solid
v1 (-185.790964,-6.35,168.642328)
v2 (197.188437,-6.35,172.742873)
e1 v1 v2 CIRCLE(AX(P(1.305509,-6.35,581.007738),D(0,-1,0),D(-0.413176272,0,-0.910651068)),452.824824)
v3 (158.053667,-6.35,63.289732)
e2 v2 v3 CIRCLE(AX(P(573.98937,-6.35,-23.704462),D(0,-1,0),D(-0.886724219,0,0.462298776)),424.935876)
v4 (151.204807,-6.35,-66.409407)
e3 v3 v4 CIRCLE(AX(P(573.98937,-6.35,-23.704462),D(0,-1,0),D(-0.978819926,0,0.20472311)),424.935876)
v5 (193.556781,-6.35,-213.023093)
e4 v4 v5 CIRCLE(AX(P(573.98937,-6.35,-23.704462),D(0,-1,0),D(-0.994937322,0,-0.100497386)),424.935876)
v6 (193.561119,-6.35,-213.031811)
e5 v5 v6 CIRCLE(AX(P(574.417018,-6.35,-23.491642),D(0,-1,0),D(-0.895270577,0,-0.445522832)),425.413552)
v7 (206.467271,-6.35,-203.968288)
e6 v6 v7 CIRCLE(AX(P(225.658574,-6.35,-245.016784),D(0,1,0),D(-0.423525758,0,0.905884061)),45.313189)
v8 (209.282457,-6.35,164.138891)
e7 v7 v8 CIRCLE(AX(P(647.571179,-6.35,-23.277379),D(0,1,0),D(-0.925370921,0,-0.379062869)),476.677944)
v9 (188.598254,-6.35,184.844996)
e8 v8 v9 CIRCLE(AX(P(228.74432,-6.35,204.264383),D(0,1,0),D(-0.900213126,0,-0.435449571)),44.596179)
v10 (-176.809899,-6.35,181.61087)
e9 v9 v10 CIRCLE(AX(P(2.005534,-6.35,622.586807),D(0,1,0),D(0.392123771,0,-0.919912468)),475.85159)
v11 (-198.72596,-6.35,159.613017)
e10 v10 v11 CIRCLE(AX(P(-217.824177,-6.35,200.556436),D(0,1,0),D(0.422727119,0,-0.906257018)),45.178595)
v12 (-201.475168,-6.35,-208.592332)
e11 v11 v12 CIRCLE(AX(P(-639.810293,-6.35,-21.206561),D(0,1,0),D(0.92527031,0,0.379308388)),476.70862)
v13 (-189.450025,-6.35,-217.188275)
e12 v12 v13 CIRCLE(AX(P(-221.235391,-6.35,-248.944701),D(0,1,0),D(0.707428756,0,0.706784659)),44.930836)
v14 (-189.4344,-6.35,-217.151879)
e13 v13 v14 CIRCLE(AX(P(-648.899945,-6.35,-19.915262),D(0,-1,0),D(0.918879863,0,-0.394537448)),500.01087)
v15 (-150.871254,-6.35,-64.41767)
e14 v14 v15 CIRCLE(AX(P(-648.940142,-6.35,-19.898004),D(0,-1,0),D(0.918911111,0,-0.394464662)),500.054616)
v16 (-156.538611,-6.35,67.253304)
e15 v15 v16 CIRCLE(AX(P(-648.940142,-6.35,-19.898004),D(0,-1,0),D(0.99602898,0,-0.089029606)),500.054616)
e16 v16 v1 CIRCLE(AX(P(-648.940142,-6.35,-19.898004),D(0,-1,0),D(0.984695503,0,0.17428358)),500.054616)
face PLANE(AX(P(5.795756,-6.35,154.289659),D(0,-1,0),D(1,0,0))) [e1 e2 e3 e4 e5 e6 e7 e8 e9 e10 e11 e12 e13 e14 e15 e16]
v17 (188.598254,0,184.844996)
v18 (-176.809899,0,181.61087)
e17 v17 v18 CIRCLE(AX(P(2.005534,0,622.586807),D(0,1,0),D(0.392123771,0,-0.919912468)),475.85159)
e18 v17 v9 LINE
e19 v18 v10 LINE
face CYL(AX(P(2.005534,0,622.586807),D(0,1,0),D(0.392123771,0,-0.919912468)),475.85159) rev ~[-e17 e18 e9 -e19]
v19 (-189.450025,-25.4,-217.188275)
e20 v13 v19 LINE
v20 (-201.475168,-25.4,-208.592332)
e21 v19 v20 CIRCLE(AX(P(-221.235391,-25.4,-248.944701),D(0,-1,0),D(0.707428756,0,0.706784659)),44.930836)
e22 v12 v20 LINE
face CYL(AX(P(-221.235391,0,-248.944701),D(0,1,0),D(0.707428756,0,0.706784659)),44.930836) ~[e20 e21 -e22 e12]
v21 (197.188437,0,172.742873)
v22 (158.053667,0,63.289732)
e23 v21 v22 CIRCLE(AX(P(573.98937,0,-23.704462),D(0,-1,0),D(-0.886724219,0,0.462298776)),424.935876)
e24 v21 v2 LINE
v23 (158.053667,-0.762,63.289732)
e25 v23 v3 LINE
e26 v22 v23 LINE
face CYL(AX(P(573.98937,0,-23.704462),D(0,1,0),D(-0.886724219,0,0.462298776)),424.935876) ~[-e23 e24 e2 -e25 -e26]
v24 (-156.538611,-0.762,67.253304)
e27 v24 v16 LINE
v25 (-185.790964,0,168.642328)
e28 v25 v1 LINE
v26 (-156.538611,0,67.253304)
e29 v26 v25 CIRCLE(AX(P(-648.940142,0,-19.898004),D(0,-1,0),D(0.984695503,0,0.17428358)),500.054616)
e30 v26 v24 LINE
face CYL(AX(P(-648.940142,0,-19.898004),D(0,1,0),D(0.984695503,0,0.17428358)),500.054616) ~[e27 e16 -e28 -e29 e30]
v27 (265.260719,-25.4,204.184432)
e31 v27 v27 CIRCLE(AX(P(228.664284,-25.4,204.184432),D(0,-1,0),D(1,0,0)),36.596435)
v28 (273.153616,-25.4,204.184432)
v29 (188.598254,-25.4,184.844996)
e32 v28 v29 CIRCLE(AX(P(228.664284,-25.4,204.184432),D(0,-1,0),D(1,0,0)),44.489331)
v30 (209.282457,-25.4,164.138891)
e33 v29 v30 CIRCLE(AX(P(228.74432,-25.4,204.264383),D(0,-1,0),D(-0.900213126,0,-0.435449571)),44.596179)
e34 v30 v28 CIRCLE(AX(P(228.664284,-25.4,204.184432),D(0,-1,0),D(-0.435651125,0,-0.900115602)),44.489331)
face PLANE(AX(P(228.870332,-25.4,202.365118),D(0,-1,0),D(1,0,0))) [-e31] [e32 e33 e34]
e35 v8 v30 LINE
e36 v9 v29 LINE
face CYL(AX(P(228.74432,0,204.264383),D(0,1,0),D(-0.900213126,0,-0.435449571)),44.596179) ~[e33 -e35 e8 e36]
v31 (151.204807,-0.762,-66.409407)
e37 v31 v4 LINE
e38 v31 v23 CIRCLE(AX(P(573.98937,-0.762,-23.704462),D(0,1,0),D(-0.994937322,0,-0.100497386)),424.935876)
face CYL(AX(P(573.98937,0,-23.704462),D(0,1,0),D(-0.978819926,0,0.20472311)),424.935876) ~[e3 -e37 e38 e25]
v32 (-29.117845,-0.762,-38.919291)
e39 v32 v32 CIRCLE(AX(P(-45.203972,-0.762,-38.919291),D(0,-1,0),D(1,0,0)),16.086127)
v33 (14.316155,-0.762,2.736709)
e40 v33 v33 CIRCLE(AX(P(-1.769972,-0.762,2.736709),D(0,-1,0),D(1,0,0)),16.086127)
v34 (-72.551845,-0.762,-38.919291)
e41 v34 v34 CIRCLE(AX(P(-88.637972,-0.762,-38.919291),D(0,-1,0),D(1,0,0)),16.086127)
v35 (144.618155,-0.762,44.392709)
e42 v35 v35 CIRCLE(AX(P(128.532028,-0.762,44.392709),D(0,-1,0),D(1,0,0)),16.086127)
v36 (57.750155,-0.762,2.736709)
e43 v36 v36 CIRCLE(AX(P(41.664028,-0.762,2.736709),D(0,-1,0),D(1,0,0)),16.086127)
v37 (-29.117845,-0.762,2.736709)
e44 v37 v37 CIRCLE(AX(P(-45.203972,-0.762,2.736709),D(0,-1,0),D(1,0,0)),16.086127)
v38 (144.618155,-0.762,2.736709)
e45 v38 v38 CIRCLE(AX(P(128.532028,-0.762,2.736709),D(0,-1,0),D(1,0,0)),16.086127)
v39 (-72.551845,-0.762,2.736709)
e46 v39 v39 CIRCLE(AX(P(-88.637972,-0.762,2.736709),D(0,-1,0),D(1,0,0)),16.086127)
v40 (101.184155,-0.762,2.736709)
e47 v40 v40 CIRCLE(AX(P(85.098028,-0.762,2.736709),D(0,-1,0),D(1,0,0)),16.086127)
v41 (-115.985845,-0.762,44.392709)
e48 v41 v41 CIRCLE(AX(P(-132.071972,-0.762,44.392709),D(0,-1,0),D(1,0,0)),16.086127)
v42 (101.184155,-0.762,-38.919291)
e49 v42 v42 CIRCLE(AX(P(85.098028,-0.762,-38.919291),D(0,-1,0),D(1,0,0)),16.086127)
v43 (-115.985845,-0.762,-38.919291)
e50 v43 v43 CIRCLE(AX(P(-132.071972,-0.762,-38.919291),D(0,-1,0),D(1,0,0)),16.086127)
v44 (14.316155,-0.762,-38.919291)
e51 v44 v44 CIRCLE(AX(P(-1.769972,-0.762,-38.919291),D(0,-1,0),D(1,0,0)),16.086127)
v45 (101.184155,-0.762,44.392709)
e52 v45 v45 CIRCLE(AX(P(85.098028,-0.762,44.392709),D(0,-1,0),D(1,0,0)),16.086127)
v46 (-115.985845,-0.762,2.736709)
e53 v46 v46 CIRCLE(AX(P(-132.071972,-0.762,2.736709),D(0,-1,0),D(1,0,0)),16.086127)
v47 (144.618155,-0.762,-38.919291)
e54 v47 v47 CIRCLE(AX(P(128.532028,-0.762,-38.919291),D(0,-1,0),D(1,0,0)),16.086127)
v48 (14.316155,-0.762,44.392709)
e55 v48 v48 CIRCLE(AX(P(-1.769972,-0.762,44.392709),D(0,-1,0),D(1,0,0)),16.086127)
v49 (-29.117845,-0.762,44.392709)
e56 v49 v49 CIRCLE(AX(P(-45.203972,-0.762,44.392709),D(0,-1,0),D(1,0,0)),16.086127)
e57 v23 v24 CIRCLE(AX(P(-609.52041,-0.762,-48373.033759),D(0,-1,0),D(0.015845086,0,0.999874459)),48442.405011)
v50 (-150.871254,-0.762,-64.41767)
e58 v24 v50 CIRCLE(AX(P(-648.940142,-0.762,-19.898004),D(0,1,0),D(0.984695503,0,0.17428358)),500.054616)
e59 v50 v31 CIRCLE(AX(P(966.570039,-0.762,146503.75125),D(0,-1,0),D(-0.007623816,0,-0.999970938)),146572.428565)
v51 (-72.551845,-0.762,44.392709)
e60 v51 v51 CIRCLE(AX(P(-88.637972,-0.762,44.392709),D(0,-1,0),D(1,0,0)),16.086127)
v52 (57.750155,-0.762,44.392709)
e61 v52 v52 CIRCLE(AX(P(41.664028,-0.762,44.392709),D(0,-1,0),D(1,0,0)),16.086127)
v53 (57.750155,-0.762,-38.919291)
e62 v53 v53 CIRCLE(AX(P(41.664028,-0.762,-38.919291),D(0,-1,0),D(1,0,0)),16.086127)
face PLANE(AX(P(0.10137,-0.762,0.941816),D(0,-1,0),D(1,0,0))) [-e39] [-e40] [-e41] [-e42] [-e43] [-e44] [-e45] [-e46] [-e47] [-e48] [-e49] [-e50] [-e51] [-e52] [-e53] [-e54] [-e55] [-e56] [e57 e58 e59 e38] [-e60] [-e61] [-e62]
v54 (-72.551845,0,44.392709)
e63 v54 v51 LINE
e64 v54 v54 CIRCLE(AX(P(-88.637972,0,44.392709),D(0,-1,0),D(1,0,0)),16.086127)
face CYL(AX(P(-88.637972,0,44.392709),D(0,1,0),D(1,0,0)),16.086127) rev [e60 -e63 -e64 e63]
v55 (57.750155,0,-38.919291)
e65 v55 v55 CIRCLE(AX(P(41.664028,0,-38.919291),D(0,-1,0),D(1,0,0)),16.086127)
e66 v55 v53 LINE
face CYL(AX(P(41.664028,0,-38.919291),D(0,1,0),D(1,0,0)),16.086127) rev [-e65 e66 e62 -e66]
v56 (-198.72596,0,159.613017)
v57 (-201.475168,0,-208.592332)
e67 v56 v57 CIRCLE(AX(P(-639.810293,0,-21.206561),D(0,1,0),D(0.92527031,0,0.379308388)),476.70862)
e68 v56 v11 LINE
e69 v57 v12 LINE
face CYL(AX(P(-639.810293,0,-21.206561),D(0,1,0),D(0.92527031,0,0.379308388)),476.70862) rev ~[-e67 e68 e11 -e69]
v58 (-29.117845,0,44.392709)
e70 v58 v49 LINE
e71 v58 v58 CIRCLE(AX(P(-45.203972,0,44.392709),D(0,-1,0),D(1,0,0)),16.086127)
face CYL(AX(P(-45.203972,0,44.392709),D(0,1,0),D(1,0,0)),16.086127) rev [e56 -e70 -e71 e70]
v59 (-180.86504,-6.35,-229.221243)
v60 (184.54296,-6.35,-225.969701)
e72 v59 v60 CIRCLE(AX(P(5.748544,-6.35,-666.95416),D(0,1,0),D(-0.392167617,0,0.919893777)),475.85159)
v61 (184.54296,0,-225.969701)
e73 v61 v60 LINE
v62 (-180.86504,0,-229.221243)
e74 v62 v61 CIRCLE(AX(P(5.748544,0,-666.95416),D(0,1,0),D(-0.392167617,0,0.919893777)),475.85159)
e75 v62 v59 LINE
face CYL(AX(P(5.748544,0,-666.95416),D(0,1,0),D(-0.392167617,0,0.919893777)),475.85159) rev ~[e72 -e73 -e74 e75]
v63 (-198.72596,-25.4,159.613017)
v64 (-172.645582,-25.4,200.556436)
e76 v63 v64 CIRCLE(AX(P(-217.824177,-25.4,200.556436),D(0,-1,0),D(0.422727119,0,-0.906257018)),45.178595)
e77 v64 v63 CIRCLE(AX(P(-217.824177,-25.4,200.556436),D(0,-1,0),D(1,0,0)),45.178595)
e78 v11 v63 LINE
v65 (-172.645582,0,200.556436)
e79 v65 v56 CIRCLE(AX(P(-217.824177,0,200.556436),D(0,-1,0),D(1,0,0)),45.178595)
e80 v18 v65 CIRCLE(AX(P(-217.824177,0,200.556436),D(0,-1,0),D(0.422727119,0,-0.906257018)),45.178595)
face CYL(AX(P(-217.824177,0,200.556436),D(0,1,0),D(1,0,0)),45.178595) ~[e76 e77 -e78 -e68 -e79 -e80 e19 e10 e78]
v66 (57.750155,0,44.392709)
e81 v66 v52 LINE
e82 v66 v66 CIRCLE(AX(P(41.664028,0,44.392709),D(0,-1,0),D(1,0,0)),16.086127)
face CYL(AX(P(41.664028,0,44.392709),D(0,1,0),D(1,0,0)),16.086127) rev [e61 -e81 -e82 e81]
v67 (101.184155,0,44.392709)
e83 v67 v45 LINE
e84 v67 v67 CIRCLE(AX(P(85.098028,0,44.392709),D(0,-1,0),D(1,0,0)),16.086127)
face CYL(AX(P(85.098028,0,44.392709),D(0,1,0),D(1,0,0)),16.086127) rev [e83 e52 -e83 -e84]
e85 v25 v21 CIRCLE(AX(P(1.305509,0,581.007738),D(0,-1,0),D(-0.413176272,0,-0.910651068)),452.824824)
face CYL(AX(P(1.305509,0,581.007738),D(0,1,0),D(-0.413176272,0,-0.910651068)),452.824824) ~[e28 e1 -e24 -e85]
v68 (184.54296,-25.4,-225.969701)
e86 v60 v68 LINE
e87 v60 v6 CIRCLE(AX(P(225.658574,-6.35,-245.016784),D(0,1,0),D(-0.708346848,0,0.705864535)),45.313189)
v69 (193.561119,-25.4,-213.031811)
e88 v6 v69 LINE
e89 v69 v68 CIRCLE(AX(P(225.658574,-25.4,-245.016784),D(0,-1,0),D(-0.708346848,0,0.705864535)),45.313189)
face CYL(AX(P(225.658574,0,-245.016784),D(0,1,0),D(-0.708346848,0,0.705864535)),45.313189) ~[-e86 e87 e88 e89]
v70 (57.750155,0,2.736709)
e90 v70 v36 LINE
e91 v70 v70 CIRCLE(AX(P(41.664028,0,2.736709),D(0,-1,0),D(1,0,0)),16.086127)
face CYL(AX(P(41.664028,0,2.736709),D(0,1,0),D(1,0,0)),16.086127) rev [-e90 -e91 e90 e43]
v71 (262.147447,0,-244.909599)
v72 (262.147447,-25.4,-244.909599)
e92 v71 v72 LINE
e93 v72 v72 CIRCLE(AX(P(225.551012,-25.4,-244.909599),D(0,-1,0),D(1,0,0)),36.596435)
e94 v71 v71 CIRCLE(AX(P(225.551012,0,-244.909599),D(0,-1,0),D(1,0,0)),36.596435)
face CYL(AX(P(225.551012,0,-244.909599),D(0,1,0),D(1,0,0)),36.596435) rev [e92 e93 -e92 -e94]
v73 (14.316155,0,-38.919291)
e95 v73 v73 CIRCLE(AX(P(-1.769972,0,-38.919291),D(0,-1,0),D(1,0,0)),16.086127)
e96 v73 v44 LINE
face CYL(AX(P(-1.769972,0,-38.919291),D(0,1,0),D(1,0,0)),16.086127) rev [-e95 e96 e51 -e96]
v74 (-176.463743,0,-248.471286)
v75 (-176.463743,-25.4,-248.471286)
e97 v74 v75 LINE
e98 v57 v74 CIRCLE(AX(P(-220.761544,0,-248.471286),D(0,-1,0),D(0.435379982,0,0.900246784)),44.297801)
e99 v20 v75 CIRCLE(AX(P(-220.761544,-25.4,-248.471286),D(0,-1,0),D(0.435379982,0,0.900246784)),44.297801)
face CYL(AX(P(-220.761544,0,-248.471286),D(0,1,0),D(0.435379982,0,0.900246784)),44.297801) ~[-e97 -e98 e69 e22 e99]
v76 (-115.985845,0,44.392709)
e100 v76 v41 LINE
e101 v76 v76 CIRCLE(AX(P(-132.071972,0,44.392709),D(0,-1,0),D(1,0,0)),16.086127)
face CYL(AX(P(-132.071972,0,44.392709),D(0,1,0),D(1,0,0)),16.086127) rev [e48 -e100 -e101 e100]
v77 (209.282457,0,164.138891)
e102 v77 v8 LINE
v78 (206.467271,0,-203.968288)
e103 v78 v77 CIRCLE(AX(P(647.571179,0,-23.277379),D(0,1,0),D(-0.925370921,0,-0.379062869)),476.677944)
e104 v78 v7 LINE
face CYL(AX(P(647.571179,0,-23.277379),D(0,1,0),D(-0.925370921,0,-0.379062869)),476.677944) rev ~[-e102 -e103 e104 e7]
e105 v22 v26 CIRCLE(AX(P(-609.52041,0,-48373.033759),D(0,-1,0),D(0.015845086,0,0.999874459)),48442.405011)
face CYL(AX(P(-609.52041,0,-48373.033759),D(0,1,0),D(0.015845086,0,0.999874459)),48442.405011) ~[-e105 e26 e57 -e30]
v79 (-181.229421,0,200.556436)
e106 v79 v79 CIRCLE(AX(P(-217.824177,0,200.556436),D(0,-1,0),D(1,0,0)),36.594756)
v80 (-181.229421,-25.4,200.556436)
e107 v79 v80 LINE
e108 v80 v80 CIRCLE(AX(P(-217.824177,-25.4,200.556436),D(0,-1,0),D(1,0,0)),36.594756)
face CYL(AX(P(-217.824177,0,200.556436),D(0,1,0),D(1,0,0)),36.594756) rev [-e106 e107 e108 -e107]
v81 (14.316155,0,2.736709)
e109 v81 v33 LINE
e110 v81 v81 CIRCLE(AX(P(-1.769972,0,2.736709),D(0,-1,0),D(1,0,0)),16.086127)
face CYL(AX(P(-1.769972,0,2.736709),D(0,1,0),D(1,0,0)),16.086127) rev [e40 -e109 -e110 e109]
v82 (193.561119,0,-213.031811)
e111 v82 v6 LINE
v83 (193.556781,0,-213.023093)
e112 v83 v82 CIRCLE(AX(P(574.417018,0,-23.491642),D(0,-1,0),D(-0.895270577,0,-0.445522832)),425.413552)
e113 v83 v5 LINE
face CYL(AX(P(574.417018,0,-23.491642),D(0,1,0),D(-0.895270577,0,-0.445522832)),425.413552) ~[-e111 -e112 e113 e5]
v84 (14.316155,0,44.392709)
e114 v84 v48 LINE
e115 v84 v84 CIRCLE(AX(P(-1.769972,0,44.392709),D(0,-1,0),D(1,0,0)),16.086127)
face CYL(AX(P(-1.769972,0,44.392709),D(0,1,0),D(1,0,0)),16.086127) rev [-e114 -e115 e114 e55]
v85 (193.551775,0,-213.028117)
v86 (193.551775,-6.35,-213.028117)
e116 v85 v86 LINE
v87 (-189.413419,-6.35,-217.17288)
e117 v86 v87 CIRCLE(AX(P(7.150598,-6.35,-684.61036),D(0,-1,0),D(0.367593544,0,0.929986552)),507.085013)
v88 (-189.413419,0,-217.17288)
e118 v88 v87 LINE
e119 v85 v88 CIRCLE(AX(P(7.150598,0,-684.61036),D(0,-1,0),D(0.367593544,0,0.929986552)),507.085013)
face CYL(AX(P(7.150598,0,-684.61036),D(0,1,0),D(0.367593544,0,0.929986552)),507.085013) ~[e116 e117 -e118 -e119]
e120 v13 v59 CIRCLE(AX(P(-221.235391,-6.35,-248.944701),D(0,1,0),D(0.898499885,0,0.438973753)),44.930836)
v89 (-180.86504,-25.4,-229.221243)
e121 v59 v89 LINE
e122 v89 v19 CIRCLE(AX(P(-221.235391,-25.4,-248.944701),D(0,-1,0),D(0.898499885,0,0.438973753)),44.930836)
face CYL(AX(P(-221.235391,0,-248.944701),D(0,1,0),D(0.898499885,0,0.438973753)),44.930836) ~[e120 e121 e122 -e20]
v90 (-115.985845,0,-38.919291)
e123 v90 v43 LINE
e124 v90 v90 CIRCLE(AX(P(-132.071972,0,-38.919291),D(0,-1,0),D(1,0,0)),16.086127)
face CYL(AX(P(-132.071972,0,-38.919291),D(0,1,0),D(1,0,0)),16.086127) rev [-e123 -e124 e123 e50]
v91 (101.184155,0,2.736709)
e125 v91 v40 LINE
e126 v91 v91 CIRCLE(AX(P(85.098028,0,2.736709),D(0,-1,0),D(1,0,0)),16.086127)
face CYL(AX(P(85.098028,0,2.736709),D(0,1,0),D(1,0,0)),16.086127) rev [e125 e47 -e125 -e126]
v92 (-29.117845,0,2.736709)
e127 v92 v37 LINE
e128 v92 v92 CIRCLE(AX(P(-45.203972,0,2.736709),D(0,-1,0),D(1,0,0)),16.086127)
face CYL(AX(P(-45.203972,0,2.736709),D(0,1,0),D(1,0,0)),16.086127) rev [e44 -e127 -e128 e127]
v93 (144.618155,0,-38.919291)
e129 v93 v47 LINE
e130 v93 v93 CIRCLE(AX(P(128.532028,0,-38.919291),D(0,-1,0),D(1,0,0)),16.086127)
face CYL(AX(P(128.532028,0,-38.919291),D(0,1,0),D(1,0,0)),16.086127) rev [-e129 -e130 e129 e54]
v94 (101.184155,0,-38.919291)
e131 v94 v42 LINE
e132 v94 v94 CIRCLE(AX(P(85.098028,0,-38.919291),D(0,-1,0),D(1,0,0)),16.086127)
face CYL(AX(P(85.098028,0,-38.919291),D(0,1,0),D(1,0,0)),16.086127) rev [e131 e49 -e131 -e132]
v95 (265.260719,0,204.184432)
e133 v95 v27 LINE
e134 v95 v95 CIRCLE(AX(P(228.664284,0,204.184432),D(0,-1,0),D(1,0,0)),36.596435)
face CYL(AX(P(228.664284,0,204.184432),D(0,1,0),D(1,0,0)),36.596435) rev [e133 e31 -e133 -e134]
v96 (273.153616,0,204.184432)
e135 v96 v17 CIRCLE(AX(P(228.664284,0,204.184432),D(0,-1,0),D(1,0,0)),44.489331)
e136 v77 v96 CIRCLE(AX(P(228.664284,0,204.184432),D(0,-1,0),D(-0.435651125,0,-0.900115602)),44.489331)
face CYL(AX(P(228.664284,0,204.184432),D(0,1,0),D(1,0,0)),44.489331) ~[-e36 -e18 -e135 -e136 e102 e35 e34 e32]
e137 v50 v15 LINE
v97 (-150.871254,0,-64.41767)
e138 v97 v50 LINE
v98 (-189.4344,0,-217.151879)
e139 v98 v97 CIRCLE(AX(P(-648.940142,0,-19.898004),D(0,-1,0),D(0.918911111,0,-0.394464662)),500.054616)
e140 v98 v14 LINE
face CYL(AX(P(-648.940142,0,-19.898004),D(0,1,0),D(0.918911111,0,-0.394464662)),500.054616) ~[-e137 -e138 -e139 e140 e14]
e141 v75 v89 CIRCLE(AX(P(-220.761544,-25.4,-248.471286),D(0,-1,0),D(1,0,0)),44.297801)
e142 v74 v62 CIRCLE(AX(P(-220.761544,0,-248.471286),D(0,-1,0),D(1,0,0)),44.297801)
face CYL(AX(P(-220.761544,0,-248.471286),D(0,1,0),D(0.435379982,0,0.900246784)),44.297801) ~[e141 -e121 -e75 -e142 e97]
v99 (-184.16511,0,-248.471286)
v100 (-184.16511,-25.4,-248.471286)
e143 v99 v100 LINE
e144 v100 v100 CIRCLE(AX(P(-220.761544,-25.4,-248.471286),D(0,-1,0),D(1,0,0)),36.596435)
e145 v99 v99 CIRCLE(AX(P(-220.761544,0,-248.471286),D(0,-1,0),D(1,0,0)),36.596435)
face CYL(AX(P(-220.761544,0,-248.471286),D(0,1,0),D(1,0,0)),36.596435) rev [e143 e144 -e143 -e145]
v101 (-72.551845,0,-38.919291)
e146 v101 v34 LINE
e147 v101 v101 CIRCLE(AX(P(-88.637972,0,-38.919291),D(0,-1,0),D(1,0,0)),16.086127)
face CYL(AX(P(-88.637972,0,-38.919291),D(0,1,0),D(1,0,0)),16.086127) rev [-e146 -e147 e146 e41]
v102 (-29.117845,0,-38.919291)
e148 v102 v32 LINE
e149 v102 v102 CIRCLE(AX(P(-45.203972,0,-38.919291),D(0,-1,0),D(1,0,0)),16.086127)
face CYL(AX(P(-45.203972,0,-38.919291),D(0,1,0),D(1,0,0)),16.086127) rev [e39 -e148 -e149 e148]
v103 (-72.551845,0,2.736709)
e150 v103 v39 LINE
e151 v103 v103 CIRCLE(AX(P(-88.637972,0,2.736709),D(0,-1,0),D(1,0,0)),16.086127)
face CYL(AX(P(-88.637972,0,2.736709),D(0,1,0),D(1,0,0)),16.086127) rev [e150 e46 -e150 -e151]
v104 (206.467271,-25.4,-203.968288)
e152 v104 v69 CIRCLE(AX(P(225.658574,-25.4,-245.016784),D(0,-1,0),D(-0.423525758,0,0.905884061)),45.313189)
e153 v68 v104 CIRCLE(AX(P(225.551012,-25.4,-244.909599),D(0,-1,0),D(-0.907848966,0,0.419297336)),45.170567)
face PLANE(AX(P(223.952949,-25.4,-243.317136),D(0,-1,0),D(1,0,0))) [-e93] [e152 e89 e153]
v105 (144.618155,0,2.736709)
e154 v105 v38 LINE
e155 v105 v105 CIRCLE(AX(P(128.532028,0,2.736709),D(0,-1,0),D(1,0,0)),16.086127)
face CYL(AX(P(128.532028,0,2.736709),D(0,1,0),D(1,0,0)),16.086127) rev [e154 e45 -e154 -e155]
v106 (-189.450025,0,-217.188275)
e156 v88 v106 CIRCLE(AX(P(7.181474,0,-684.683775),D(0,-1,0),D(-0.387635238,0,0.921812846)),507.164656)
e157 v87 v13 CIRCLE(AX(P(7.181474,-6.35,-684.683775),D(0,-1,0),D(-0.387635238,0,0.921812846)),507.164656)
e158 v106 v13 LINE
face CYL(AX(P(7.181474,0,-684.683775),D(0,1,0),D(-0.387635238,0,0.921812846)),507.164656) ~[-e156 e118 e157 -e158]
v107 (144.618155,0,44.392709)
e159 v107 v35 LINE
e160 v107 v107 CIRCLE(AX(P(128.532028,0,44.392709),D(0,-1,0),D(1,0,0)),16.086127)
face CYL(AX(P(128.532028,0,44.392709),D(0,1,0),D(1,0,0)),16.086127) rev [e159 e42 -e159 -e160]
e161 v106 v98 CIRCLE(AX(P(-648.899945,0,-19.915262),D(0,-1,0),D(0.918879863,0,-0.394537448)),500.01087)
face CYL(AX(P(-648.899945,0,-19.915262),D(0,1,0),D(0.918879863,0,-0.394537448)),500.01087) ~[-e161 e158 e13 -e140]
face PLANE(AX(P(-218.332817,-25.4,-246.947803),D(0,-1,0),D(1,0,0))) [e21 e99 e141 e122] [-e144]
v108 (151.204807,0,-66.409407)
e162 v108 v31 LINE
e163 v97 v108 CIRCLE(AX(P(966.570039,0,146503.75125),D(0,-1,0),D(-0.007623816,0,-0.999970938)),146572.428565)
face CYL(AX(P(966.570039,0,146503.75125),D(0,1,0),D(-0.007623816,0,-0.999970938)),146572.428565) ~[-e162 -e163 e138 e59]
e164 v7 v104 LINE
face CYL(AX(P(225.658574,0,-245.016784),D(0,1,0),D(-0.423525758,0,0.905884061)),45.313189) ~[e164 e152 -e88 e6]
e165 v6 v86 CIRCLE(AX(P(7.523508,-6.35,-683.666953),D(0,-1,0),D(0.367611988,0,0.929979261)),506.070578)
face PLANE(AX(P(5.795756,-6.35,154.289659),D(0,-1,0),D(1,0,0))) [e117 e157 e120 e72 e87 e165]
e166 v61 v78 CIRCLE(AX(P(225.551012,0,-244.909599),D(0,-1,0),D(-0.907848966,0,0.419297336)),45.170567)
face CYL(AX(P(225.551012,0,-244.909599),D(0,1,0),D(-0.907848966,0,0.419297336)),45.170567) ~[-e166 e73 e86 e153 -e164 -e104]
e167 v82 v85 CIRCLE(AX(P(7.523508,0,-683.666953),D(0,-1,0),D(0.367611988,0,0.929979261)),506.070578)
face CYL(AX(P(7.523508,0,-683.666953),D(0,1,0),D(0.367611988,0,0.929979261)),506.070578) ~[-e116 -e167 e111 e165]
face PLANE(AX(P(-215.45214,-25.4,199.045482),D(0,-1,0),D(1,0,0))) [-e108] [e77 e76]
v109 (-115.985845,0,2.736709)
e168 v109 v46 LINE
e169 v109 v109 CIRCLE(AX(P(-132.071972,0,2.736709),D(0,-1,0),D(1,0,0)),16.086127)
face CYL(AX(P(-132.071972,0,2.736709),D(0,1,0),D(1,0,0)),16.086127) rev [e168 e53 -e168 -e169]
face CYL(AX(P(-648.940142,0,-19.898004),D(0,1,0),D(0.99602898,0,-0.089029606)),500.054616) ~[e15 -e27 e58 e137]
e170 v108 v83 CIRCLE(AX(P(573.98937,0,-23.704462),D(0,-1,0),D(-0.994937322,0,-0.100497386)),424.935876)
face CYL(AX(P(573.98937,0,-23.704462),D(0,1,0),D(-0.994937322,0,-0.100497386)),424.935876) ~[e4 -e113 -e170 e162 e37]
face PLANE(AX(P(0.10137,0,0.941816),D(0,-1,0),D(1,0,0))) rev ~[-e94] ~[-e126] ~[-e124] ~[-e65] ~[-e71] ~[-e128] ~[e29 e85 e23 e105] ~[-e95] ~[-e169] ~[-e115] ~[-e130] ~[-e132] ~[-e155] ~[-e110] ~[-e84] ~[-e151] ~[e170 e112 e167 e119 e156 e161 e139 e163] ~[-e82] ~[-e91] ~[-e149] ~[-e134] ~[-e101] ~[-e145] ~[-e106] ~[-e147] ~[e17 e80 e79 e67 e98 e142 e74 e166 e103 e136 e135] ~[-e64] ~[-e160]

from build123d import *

# Parameters (mm, degrees)
F0_R     = 36.5947560904
F0_R_2   = 36.5964348683
F1_DEPTH = 6.35
F2_DEPTH = 25.4
F0_R_3   = 16.0861270077
F4_DEPTH = 0.762


with BuildPart() as f1:
    # F0 (on Front) → F1 (new body)
    with BuildSketch(Plane.XZ):
        with BuildLine():
            ThreePointArc((188.5982540505, 184.8449959839), (6.2169992483, 146.7538533434), (-176.8098994137, 181.6108700985))
            ThreePointArc((-176.8098994137, 181.6108700985), (-180.7223168449, 174.7262392004), (-185.7909638385, 168.6423284177))
            ThreePointArc((-185.7909638385, 168.6423284177), (6.1536082496, 128.2088675402), (197.1884370844, 172.7428734756))
            ThreePointArc((197.1884370844, 172.7428734756), (192.3851525579, 178.4332152803), (188.5982540505, 184.8449959839))
        make_face()
        with BuildLine():
            ThreePointArc((-189.4134185263, -217.1728797195), (-184.6334375627, -222.8381994872), (-180.8650399113, -229.2212430576))
            ThreePointArc((-180.8650399113, -229.2212430577), (1.5143996628, -191.1214074538), (184.542960009, -225.969700813))
            ThreePointArc((184.542960009, -225.969700813), (188.4782832358, -219.102761645), (193.5517747378, -213.0281170945))
            ThreePointArc((193.5517747378, -213.0281170945), (1.6628304665, -177.5550425479), (-189.4134185263, -217.1728797195))
        make_face()
        with BuildLine():
            ThreePointArc((-185.7909638385, 168.6423284177), (-180.7223168449, 174.7262392004), (-176.8098994137, 181.6108700985))
            ThreePointArc((-176.8098994137, 181.6108700985), (-185.818640213, 168.6699018858), (-198.7259600139, 159.613016956))
            ThreePointArc((-198.7259600139, 159.613016956), (-191.8559511005, 163.5510533052), (-185.7909638385, 168.6423284177))
        make_face()
        with BuildLine():
            ThreePointArc((209.2824572603, 164.1388911845), (197.1933772998, 172.7468130702), (188.5982540505, 184.8449959839))
            ThreePointArc((188.5982540505, 184.8449959839), (192.3851525579, 178.4332152803), (197.1884370844, 172.7428734756))
            ThreePointArc((197.1884370844, 172.7428734756), (202.8741139753, 167.9329813574), (209.2824572603, 164.1388911845))
        make_face()
        with BuildLine():
            ThreePointArc((-189.4134185263, -217.1728797195), (-189.4317221538, -217.1805770734), (-189.4500254799, -217.1882751439))
            ThreePointArc((-189.4500254799, -217.1882751439), (-184.6593067493, -222.8492971242), (-180.8650399113, -229.2212430576))
            ThreePointArc((-180.8650399113, -229.2212430576), (-184.6334375627, -222.8381994872), (-189.4134185263, -217.1728797195))
        make_face()
        with BuildLine():
            ThreePointArc((-189.4343998959, -217.1518790975), (-195.0954466485, -212.3666234088), (-201.4751684195, -208.5923324203))
            ThreePointArc((-201.4751684195, -208.5923324203), (-195.1066812913, -212.3924018294), (-189.4500254799, -217.1882751439))
            ThreePointArc((-189.4500254799, -217.1882751439), (-189.4422123275, -217.1700772754), (-189.4343998959, -217.1518790975))
        make_face()
        with BuildLine():
            ThreePointArc((193.5611194533, -213.0318108647), (199.6168571715, -207.9342533355), (206.4672712931, -203.9682883284))
            ThreePointArc((206.4672712931, -203.9682883284), (199.6138346269, -207.9279426554), (193.5567810212, -213.0230931091))
            ThreePointArc((193.5567810212, -213.0230931091), (193.5589502123, -213.0274519993), (193.5611194533, -213.0318108647))
        make_face()
        with BuildLine():
            ThreePointArc((184.542960009, -225.969700813), (188.4848520946, -219.1054063219), (193.5611194533, -213.0318108647))
            ThreePointArc((193.5611194533, -213.0318108647), (193.5564471047, -213.0299639564), (193.5517747378, -213.0281170945))
            ThreePointArc((193.5517747378, -213.0281170945), (188.4782832358, -219.102761645), (184.542960009, -225.969700813))
        make_face()
        with BuildLine():
            ThreePointArc((209.2824572603, 164.1388911845), (202.8741139753, 167.9329813574), (197.1884370844, 172.7428734756))
            ThreePointArc((197.1884370844, 172.7428734756), (173.8608394568, 119.3607598746), (158.0536671707, 63.2897319912))
            ThreePointArc((158.0536671707, 63.2897319912), (149.6447133976, -1.2966260467), (151.2048073719, -66.4094070881))
            ThreePointArc((151.2048073719, -66.4094070881), (165.7451521785, -141.6330734425), (193.5567810212, -213.0230931091))
            ThreePointArc((193.5567810212, -213.0230931091), (199.6138346269, -207.9279426554), (206.4672712931, -203.9682883284))
            ThreePointArc((206.4672712931, -203.9682883284), (170.9071745934, -19.6319794971), (209.2824572603, 164.1388911845))
        make_face()
        with BuildLine():
            ThreePointArc((-185.7909638385, 168.6423284177), (-191.8559511005, 163.5510533052), (-198.7259600139, 159.613016956))
            ThreePointArc((-198.7259600139, 159.613016956), (-163.1149600765, -24.7658110633), (-201.4751684195, -208.5923324203))
            ThreePointArc((-201.4751684195, -208.5923324203), (-195.0954466485, -212.3666234088), (-189.4343998959, -217.1518790975))
            ThreePointArc((-189.4343998959, -217.1518790975), (-164.1007583774, -142.312832824), (-150.8712536248, -64.417669664))
            ThreePointArc((-150.8712536248, -64.417669664), (-149.3480842089, 1.6053439773), (-156.5386111016, 67.2533043292))
            ThreePointArc((-156.5386111016, 67.2533043292), (-168.4828359414, 118.721602223), (-185.7909638385, 168.6423284177))
        make_face()
        with BuildLine():
            ThreePointArc((-198.7259600139, 159.613016956), (-185.818640213, 168.6699018858), (-176.8098994137, 181.6108700985))
            ThreePointArc((-176.8098994137, 181.6108700985), (-173.6989412825, 190.8575184286), (-172.6455822149, 200.5564359203))
            ThreePointArc((-172.6455822149, 200.5564359203), (-255.9288759313, 224.828589011), (-198.7259600139, 159.613016956))
        make_face()
        with Locations((-217.8241774175, 200.5564359203)):
            Circle(F0_R, mode=Mode.SUBTRACT)
        with BuildLine():
            ThreePointArc((273.1536156326, 204.1844323112), (218.7448667821, 247.5538425266), (188.5982540505, 184.8449959839))
            ThreePointArc((188.5982540505, 184.8449959839), (197.1933772998, 172.7468130702), (209.2824572603, 164.1388911845))
            ThreePointArc((209.2824572603, 164.1388911845), (252.2970589417, 166.4910302494), (273.1536156326, 204.1844323112))
        make_face()
        with Locations((228.6642844479, 204.1844323112)):
            Circle(F0_R_2, mode=Mode.SUBTRACT)
        with BuildLine():
            ThreePointArc((270.7215789425, -244.9095990816), (249.8240085798, -206.8149571431), (206.4672712931, -203.9682883284))
            ThreePointArc((206.4672712931, -203.9682883284), (199.6168571715, -207.9342533355), (193.5611194533, -213.0318108647))
            ThreePointArc((193.5611194533, -213.0318108647), (188.4848520946, -219.1054063219), (184.542960009, -225.969700813))
            ThreePointArc((184.542960009, -225.969700813), (215.8550559689, -289.0272659162), (270.7215789425, -244.9095990816))
        make_face()
        with Locations((225.5510122517, -244.9095990816)):
            Circle(F0_R_2, mode=Mode.SUBTRACT)
        with BuildLine():
            ThreePointArc((-189.4500254799, -217.1882751439), (-195.1066812913, -212.3924018294), (-201.4751684195, -208.5923324203))
            ThreePointArc((-201.4751684195, -208.5923324203), (-258.2891293584, -272.0079714896), (-176.4637429727, -248.4712856786))
            ThreePointArc((-176.4637429727, -248.4712856786), (-177.5780831864, -238.5978926999), (-180.8650399113, -229.2212430576))
            ThreePointArc((-180.8650399113, -229.2212430576), (-184.6593067493, -222.8492971242), (-189.4500254799, -217.1882751439))
        make_face()
        with Locations((-220.7615444029, -248.4712856786)):
            Circle(F0_R_2, mode=Mode.SUBTRACT)
    extrude(amount=F1_DEPTH)

    # F0 (on Front) → F2 (join)
    with BuildSketch(Plane.XZ):
        with BuildLine():
            ThreePointArc((-189.4500254799, -217.1882751439), (-195.1066812913, -212.3924018294), (-201.4751684195, -208.5923324203))
            ThreePointArc((-201.4751684195, -208.5923324203), (-258.2891293584, -272.0079714896), (-176.4637429727, -248.4712856786))
            ThreePointArc((-176.4637429727, -248.4712856786), (-177.5780831864, -238.5978926999), (-180.8650399113, -229.2212430576))
            ThreePointArc((-180.8650399113, -229.2212430576), (-184.6593067493, -222.8492971242), (-189.4500254799, -217.1882751439))
        make_face()
        with Locations((-220.7615444029, -248.4712856786)):
            Circle(F0_R_2, mode=Mode.SUBTRACT)
        with BuildLine():
            ThreePointArc((270.7215789425, -244.9095990816), (249.8240085798, -206.8149571431), (206.4672712931, -203.9682883284))
            ThreePointArc((206.4672712931, -203.9682883284), (199.6168571715, -207.9342533355), (193.5611194533, -213.0318108647))
            ThreePointArc((193.5611194533, -213.0318108647), (188.4848520946, -219.1054063219), (184.542960009, -225.969700813))
            ThreePointArc((184.542960009, -225.969700813), (215.8550559689, -289.0272659162), (270.7215789425, -244.9095990816))
        make_face()
        with Locations((225.5510122517, -244.9095990816)):
            Circle(F0_R_2, mode=Mode.SUBTRACT)
        with BuildLine():
            ThreePointArc((273.1536156326, 204.1844323112), (218.7448667821, 247.5538425266), (188.5982540505, 184.8449959839))
            ThreePointArc((188.5982540505, 184.8449959839), (197.1933772998, 172.7468130702), (209.2824572603, 164.1388911845))
            ThreePointArc((209.2824572603, 164.1388911845), (252.2970589417, 166.4910302494), (273.1536156326, 204.1844323112))
        make_face()
        with Locations((228.6642844479, 204.1844323112)):
            Circle(F0_R_2, mode=Mode.SUBTRACT)
        with BuildLine():
            ThreePointArc((-198.7259600139, 159.613016956), (-185.818640213, 168.6699018858), (-176.8098994137, 181.6108700985))
            ThreePointArc((-176.8098994137, 181.6108700985), (-173.6989412825, 190.8575184286), (-172.6455822149, 200.5564359203))
            ThreePointArc((-172.6455822149, 200.5564359203), (-255.9288759313, 224.828589011), (-198.7259600139, 159.613016956))
        make_face()
        with Locations((-217.8241774175, 200.5564359203)):
            Circle(F0_R, mode=Mode.SUBTRACT)
    extrude(amount=F2_DEPTH)

    # F0 (on Front) → F4 (join)
    with BuildSketch(Plane.XZ):
        with BuildLine():
            ThreePointArc((158.0536671707, 63.2897319912), (0.7607458029, 65.5269153094), (-156.5386111016, 67.2533043292))
            ThreePointArc((-156.5386111016, 67.2533043292), (-149.3480842089, 1.6053439773), (-150.8712536248, -64.417669664))
            ThreePointArc((-150.8712536248, -64.417669664), (0.1662637574, -65.4913599309), (151.2048073719, -66.4094070881))
            ThreePointArc((151.2048073719, -66.4094070881), (149.6447133976, -1.2966260467), (158.0536671707, 63.2897319912))
        make_face()
        with Locations((-132.0719718933, -38.919291311)):
            Circle(F0_R_3, mode=Mode.SUBTRACT)
        with Locations((-88.6379718933, -38.919291311)):
            Circle(F0_R_3, mode=Mode.SUBTRACT)
        with Locations((-45.2039718933, -38.919291311)):
            Circle(F0_R_3, mode=Mode.SUBTRACT)
        with Locations((-1.7699718933, -38.919291311)):
            Circle(F0_R_3, mode=Mode.SUBTRACT)
        with Locations((41.6640281067, -38.919291311)):
            Circle(F0_R_3, mode=Mode.SUBTRACT)
        with Locations((85.0980281067, -38.919291311)):
            Circle(F0_R_3, mode=Mode.SUBTRACT)
        with Locations((128.5320281067, -38.919291311)):
            Circle(F0_R_3, mode=Mode.SUBTRACT)
        with Locations((-132.0719718933, 2.736708689)):
            Circle(F0_R_3, mode=Mode.SUBTRACT)
        with Locations((-132.0719718933, 44.392708689)):
            Circle(F0_R_3, mode=Mode.SUBTRACT)
        with Locations((-88.6379718933, 2.736708689)):
            Circle(F0_R_3, mode=Mode.SUBTRACT)
        with Locations((-88.6379718933, 44.392708689)):
            Circle(F0_R_3, mode=Mode.SUBTRACT)
        with Locations((-45.2039718933, 2.736708689)):
            Circle(F0_R_3, mode=Mode.SUBTRACT)
        with Locations((-1.7699718933, 2.736708689)):
            Circle(F0_R_3, mode=Mode.SUBTRACT)
        with Locations((-45.2039718933, 44.392708689)):
            Circle(F0_R_3, mode=Mode.SUBTRACT)
        with Locations((-1.7699718933, 44.392708689)):
            Circle(F0_R_3, mode=Mode.SUBTRACT)
        with Locations((41.6640281067, 2.736708689)):
            Circle(F0_R_3, mode=Mode.SUBTRACT)
        with Locations((41.6640281067, 44.392708689)):
            Circle(F0_R_3, mode=Mode.SUBTRACT)
        with Locations((85.0980281067, 2.736708689)):
            Circle(F0_R_3, mode=Mode.SUBTRACT)
        with Locations((128.5320281067, 2.736708689)):
            Circle(F0_R_3, mode=Mode.SUBTRACT)
        with Locations((85.0980281067, 44.392708689)):
            Circle(F0_R_3, mode=Mode.SUBTRACT)
        with Locations((128.5320281067, 44.392708689)):
            Circle(F0_R_3, mode=Mode.SUBTRACT)
    extrude(amount=F4_DEPTH)


solid = f1.part
